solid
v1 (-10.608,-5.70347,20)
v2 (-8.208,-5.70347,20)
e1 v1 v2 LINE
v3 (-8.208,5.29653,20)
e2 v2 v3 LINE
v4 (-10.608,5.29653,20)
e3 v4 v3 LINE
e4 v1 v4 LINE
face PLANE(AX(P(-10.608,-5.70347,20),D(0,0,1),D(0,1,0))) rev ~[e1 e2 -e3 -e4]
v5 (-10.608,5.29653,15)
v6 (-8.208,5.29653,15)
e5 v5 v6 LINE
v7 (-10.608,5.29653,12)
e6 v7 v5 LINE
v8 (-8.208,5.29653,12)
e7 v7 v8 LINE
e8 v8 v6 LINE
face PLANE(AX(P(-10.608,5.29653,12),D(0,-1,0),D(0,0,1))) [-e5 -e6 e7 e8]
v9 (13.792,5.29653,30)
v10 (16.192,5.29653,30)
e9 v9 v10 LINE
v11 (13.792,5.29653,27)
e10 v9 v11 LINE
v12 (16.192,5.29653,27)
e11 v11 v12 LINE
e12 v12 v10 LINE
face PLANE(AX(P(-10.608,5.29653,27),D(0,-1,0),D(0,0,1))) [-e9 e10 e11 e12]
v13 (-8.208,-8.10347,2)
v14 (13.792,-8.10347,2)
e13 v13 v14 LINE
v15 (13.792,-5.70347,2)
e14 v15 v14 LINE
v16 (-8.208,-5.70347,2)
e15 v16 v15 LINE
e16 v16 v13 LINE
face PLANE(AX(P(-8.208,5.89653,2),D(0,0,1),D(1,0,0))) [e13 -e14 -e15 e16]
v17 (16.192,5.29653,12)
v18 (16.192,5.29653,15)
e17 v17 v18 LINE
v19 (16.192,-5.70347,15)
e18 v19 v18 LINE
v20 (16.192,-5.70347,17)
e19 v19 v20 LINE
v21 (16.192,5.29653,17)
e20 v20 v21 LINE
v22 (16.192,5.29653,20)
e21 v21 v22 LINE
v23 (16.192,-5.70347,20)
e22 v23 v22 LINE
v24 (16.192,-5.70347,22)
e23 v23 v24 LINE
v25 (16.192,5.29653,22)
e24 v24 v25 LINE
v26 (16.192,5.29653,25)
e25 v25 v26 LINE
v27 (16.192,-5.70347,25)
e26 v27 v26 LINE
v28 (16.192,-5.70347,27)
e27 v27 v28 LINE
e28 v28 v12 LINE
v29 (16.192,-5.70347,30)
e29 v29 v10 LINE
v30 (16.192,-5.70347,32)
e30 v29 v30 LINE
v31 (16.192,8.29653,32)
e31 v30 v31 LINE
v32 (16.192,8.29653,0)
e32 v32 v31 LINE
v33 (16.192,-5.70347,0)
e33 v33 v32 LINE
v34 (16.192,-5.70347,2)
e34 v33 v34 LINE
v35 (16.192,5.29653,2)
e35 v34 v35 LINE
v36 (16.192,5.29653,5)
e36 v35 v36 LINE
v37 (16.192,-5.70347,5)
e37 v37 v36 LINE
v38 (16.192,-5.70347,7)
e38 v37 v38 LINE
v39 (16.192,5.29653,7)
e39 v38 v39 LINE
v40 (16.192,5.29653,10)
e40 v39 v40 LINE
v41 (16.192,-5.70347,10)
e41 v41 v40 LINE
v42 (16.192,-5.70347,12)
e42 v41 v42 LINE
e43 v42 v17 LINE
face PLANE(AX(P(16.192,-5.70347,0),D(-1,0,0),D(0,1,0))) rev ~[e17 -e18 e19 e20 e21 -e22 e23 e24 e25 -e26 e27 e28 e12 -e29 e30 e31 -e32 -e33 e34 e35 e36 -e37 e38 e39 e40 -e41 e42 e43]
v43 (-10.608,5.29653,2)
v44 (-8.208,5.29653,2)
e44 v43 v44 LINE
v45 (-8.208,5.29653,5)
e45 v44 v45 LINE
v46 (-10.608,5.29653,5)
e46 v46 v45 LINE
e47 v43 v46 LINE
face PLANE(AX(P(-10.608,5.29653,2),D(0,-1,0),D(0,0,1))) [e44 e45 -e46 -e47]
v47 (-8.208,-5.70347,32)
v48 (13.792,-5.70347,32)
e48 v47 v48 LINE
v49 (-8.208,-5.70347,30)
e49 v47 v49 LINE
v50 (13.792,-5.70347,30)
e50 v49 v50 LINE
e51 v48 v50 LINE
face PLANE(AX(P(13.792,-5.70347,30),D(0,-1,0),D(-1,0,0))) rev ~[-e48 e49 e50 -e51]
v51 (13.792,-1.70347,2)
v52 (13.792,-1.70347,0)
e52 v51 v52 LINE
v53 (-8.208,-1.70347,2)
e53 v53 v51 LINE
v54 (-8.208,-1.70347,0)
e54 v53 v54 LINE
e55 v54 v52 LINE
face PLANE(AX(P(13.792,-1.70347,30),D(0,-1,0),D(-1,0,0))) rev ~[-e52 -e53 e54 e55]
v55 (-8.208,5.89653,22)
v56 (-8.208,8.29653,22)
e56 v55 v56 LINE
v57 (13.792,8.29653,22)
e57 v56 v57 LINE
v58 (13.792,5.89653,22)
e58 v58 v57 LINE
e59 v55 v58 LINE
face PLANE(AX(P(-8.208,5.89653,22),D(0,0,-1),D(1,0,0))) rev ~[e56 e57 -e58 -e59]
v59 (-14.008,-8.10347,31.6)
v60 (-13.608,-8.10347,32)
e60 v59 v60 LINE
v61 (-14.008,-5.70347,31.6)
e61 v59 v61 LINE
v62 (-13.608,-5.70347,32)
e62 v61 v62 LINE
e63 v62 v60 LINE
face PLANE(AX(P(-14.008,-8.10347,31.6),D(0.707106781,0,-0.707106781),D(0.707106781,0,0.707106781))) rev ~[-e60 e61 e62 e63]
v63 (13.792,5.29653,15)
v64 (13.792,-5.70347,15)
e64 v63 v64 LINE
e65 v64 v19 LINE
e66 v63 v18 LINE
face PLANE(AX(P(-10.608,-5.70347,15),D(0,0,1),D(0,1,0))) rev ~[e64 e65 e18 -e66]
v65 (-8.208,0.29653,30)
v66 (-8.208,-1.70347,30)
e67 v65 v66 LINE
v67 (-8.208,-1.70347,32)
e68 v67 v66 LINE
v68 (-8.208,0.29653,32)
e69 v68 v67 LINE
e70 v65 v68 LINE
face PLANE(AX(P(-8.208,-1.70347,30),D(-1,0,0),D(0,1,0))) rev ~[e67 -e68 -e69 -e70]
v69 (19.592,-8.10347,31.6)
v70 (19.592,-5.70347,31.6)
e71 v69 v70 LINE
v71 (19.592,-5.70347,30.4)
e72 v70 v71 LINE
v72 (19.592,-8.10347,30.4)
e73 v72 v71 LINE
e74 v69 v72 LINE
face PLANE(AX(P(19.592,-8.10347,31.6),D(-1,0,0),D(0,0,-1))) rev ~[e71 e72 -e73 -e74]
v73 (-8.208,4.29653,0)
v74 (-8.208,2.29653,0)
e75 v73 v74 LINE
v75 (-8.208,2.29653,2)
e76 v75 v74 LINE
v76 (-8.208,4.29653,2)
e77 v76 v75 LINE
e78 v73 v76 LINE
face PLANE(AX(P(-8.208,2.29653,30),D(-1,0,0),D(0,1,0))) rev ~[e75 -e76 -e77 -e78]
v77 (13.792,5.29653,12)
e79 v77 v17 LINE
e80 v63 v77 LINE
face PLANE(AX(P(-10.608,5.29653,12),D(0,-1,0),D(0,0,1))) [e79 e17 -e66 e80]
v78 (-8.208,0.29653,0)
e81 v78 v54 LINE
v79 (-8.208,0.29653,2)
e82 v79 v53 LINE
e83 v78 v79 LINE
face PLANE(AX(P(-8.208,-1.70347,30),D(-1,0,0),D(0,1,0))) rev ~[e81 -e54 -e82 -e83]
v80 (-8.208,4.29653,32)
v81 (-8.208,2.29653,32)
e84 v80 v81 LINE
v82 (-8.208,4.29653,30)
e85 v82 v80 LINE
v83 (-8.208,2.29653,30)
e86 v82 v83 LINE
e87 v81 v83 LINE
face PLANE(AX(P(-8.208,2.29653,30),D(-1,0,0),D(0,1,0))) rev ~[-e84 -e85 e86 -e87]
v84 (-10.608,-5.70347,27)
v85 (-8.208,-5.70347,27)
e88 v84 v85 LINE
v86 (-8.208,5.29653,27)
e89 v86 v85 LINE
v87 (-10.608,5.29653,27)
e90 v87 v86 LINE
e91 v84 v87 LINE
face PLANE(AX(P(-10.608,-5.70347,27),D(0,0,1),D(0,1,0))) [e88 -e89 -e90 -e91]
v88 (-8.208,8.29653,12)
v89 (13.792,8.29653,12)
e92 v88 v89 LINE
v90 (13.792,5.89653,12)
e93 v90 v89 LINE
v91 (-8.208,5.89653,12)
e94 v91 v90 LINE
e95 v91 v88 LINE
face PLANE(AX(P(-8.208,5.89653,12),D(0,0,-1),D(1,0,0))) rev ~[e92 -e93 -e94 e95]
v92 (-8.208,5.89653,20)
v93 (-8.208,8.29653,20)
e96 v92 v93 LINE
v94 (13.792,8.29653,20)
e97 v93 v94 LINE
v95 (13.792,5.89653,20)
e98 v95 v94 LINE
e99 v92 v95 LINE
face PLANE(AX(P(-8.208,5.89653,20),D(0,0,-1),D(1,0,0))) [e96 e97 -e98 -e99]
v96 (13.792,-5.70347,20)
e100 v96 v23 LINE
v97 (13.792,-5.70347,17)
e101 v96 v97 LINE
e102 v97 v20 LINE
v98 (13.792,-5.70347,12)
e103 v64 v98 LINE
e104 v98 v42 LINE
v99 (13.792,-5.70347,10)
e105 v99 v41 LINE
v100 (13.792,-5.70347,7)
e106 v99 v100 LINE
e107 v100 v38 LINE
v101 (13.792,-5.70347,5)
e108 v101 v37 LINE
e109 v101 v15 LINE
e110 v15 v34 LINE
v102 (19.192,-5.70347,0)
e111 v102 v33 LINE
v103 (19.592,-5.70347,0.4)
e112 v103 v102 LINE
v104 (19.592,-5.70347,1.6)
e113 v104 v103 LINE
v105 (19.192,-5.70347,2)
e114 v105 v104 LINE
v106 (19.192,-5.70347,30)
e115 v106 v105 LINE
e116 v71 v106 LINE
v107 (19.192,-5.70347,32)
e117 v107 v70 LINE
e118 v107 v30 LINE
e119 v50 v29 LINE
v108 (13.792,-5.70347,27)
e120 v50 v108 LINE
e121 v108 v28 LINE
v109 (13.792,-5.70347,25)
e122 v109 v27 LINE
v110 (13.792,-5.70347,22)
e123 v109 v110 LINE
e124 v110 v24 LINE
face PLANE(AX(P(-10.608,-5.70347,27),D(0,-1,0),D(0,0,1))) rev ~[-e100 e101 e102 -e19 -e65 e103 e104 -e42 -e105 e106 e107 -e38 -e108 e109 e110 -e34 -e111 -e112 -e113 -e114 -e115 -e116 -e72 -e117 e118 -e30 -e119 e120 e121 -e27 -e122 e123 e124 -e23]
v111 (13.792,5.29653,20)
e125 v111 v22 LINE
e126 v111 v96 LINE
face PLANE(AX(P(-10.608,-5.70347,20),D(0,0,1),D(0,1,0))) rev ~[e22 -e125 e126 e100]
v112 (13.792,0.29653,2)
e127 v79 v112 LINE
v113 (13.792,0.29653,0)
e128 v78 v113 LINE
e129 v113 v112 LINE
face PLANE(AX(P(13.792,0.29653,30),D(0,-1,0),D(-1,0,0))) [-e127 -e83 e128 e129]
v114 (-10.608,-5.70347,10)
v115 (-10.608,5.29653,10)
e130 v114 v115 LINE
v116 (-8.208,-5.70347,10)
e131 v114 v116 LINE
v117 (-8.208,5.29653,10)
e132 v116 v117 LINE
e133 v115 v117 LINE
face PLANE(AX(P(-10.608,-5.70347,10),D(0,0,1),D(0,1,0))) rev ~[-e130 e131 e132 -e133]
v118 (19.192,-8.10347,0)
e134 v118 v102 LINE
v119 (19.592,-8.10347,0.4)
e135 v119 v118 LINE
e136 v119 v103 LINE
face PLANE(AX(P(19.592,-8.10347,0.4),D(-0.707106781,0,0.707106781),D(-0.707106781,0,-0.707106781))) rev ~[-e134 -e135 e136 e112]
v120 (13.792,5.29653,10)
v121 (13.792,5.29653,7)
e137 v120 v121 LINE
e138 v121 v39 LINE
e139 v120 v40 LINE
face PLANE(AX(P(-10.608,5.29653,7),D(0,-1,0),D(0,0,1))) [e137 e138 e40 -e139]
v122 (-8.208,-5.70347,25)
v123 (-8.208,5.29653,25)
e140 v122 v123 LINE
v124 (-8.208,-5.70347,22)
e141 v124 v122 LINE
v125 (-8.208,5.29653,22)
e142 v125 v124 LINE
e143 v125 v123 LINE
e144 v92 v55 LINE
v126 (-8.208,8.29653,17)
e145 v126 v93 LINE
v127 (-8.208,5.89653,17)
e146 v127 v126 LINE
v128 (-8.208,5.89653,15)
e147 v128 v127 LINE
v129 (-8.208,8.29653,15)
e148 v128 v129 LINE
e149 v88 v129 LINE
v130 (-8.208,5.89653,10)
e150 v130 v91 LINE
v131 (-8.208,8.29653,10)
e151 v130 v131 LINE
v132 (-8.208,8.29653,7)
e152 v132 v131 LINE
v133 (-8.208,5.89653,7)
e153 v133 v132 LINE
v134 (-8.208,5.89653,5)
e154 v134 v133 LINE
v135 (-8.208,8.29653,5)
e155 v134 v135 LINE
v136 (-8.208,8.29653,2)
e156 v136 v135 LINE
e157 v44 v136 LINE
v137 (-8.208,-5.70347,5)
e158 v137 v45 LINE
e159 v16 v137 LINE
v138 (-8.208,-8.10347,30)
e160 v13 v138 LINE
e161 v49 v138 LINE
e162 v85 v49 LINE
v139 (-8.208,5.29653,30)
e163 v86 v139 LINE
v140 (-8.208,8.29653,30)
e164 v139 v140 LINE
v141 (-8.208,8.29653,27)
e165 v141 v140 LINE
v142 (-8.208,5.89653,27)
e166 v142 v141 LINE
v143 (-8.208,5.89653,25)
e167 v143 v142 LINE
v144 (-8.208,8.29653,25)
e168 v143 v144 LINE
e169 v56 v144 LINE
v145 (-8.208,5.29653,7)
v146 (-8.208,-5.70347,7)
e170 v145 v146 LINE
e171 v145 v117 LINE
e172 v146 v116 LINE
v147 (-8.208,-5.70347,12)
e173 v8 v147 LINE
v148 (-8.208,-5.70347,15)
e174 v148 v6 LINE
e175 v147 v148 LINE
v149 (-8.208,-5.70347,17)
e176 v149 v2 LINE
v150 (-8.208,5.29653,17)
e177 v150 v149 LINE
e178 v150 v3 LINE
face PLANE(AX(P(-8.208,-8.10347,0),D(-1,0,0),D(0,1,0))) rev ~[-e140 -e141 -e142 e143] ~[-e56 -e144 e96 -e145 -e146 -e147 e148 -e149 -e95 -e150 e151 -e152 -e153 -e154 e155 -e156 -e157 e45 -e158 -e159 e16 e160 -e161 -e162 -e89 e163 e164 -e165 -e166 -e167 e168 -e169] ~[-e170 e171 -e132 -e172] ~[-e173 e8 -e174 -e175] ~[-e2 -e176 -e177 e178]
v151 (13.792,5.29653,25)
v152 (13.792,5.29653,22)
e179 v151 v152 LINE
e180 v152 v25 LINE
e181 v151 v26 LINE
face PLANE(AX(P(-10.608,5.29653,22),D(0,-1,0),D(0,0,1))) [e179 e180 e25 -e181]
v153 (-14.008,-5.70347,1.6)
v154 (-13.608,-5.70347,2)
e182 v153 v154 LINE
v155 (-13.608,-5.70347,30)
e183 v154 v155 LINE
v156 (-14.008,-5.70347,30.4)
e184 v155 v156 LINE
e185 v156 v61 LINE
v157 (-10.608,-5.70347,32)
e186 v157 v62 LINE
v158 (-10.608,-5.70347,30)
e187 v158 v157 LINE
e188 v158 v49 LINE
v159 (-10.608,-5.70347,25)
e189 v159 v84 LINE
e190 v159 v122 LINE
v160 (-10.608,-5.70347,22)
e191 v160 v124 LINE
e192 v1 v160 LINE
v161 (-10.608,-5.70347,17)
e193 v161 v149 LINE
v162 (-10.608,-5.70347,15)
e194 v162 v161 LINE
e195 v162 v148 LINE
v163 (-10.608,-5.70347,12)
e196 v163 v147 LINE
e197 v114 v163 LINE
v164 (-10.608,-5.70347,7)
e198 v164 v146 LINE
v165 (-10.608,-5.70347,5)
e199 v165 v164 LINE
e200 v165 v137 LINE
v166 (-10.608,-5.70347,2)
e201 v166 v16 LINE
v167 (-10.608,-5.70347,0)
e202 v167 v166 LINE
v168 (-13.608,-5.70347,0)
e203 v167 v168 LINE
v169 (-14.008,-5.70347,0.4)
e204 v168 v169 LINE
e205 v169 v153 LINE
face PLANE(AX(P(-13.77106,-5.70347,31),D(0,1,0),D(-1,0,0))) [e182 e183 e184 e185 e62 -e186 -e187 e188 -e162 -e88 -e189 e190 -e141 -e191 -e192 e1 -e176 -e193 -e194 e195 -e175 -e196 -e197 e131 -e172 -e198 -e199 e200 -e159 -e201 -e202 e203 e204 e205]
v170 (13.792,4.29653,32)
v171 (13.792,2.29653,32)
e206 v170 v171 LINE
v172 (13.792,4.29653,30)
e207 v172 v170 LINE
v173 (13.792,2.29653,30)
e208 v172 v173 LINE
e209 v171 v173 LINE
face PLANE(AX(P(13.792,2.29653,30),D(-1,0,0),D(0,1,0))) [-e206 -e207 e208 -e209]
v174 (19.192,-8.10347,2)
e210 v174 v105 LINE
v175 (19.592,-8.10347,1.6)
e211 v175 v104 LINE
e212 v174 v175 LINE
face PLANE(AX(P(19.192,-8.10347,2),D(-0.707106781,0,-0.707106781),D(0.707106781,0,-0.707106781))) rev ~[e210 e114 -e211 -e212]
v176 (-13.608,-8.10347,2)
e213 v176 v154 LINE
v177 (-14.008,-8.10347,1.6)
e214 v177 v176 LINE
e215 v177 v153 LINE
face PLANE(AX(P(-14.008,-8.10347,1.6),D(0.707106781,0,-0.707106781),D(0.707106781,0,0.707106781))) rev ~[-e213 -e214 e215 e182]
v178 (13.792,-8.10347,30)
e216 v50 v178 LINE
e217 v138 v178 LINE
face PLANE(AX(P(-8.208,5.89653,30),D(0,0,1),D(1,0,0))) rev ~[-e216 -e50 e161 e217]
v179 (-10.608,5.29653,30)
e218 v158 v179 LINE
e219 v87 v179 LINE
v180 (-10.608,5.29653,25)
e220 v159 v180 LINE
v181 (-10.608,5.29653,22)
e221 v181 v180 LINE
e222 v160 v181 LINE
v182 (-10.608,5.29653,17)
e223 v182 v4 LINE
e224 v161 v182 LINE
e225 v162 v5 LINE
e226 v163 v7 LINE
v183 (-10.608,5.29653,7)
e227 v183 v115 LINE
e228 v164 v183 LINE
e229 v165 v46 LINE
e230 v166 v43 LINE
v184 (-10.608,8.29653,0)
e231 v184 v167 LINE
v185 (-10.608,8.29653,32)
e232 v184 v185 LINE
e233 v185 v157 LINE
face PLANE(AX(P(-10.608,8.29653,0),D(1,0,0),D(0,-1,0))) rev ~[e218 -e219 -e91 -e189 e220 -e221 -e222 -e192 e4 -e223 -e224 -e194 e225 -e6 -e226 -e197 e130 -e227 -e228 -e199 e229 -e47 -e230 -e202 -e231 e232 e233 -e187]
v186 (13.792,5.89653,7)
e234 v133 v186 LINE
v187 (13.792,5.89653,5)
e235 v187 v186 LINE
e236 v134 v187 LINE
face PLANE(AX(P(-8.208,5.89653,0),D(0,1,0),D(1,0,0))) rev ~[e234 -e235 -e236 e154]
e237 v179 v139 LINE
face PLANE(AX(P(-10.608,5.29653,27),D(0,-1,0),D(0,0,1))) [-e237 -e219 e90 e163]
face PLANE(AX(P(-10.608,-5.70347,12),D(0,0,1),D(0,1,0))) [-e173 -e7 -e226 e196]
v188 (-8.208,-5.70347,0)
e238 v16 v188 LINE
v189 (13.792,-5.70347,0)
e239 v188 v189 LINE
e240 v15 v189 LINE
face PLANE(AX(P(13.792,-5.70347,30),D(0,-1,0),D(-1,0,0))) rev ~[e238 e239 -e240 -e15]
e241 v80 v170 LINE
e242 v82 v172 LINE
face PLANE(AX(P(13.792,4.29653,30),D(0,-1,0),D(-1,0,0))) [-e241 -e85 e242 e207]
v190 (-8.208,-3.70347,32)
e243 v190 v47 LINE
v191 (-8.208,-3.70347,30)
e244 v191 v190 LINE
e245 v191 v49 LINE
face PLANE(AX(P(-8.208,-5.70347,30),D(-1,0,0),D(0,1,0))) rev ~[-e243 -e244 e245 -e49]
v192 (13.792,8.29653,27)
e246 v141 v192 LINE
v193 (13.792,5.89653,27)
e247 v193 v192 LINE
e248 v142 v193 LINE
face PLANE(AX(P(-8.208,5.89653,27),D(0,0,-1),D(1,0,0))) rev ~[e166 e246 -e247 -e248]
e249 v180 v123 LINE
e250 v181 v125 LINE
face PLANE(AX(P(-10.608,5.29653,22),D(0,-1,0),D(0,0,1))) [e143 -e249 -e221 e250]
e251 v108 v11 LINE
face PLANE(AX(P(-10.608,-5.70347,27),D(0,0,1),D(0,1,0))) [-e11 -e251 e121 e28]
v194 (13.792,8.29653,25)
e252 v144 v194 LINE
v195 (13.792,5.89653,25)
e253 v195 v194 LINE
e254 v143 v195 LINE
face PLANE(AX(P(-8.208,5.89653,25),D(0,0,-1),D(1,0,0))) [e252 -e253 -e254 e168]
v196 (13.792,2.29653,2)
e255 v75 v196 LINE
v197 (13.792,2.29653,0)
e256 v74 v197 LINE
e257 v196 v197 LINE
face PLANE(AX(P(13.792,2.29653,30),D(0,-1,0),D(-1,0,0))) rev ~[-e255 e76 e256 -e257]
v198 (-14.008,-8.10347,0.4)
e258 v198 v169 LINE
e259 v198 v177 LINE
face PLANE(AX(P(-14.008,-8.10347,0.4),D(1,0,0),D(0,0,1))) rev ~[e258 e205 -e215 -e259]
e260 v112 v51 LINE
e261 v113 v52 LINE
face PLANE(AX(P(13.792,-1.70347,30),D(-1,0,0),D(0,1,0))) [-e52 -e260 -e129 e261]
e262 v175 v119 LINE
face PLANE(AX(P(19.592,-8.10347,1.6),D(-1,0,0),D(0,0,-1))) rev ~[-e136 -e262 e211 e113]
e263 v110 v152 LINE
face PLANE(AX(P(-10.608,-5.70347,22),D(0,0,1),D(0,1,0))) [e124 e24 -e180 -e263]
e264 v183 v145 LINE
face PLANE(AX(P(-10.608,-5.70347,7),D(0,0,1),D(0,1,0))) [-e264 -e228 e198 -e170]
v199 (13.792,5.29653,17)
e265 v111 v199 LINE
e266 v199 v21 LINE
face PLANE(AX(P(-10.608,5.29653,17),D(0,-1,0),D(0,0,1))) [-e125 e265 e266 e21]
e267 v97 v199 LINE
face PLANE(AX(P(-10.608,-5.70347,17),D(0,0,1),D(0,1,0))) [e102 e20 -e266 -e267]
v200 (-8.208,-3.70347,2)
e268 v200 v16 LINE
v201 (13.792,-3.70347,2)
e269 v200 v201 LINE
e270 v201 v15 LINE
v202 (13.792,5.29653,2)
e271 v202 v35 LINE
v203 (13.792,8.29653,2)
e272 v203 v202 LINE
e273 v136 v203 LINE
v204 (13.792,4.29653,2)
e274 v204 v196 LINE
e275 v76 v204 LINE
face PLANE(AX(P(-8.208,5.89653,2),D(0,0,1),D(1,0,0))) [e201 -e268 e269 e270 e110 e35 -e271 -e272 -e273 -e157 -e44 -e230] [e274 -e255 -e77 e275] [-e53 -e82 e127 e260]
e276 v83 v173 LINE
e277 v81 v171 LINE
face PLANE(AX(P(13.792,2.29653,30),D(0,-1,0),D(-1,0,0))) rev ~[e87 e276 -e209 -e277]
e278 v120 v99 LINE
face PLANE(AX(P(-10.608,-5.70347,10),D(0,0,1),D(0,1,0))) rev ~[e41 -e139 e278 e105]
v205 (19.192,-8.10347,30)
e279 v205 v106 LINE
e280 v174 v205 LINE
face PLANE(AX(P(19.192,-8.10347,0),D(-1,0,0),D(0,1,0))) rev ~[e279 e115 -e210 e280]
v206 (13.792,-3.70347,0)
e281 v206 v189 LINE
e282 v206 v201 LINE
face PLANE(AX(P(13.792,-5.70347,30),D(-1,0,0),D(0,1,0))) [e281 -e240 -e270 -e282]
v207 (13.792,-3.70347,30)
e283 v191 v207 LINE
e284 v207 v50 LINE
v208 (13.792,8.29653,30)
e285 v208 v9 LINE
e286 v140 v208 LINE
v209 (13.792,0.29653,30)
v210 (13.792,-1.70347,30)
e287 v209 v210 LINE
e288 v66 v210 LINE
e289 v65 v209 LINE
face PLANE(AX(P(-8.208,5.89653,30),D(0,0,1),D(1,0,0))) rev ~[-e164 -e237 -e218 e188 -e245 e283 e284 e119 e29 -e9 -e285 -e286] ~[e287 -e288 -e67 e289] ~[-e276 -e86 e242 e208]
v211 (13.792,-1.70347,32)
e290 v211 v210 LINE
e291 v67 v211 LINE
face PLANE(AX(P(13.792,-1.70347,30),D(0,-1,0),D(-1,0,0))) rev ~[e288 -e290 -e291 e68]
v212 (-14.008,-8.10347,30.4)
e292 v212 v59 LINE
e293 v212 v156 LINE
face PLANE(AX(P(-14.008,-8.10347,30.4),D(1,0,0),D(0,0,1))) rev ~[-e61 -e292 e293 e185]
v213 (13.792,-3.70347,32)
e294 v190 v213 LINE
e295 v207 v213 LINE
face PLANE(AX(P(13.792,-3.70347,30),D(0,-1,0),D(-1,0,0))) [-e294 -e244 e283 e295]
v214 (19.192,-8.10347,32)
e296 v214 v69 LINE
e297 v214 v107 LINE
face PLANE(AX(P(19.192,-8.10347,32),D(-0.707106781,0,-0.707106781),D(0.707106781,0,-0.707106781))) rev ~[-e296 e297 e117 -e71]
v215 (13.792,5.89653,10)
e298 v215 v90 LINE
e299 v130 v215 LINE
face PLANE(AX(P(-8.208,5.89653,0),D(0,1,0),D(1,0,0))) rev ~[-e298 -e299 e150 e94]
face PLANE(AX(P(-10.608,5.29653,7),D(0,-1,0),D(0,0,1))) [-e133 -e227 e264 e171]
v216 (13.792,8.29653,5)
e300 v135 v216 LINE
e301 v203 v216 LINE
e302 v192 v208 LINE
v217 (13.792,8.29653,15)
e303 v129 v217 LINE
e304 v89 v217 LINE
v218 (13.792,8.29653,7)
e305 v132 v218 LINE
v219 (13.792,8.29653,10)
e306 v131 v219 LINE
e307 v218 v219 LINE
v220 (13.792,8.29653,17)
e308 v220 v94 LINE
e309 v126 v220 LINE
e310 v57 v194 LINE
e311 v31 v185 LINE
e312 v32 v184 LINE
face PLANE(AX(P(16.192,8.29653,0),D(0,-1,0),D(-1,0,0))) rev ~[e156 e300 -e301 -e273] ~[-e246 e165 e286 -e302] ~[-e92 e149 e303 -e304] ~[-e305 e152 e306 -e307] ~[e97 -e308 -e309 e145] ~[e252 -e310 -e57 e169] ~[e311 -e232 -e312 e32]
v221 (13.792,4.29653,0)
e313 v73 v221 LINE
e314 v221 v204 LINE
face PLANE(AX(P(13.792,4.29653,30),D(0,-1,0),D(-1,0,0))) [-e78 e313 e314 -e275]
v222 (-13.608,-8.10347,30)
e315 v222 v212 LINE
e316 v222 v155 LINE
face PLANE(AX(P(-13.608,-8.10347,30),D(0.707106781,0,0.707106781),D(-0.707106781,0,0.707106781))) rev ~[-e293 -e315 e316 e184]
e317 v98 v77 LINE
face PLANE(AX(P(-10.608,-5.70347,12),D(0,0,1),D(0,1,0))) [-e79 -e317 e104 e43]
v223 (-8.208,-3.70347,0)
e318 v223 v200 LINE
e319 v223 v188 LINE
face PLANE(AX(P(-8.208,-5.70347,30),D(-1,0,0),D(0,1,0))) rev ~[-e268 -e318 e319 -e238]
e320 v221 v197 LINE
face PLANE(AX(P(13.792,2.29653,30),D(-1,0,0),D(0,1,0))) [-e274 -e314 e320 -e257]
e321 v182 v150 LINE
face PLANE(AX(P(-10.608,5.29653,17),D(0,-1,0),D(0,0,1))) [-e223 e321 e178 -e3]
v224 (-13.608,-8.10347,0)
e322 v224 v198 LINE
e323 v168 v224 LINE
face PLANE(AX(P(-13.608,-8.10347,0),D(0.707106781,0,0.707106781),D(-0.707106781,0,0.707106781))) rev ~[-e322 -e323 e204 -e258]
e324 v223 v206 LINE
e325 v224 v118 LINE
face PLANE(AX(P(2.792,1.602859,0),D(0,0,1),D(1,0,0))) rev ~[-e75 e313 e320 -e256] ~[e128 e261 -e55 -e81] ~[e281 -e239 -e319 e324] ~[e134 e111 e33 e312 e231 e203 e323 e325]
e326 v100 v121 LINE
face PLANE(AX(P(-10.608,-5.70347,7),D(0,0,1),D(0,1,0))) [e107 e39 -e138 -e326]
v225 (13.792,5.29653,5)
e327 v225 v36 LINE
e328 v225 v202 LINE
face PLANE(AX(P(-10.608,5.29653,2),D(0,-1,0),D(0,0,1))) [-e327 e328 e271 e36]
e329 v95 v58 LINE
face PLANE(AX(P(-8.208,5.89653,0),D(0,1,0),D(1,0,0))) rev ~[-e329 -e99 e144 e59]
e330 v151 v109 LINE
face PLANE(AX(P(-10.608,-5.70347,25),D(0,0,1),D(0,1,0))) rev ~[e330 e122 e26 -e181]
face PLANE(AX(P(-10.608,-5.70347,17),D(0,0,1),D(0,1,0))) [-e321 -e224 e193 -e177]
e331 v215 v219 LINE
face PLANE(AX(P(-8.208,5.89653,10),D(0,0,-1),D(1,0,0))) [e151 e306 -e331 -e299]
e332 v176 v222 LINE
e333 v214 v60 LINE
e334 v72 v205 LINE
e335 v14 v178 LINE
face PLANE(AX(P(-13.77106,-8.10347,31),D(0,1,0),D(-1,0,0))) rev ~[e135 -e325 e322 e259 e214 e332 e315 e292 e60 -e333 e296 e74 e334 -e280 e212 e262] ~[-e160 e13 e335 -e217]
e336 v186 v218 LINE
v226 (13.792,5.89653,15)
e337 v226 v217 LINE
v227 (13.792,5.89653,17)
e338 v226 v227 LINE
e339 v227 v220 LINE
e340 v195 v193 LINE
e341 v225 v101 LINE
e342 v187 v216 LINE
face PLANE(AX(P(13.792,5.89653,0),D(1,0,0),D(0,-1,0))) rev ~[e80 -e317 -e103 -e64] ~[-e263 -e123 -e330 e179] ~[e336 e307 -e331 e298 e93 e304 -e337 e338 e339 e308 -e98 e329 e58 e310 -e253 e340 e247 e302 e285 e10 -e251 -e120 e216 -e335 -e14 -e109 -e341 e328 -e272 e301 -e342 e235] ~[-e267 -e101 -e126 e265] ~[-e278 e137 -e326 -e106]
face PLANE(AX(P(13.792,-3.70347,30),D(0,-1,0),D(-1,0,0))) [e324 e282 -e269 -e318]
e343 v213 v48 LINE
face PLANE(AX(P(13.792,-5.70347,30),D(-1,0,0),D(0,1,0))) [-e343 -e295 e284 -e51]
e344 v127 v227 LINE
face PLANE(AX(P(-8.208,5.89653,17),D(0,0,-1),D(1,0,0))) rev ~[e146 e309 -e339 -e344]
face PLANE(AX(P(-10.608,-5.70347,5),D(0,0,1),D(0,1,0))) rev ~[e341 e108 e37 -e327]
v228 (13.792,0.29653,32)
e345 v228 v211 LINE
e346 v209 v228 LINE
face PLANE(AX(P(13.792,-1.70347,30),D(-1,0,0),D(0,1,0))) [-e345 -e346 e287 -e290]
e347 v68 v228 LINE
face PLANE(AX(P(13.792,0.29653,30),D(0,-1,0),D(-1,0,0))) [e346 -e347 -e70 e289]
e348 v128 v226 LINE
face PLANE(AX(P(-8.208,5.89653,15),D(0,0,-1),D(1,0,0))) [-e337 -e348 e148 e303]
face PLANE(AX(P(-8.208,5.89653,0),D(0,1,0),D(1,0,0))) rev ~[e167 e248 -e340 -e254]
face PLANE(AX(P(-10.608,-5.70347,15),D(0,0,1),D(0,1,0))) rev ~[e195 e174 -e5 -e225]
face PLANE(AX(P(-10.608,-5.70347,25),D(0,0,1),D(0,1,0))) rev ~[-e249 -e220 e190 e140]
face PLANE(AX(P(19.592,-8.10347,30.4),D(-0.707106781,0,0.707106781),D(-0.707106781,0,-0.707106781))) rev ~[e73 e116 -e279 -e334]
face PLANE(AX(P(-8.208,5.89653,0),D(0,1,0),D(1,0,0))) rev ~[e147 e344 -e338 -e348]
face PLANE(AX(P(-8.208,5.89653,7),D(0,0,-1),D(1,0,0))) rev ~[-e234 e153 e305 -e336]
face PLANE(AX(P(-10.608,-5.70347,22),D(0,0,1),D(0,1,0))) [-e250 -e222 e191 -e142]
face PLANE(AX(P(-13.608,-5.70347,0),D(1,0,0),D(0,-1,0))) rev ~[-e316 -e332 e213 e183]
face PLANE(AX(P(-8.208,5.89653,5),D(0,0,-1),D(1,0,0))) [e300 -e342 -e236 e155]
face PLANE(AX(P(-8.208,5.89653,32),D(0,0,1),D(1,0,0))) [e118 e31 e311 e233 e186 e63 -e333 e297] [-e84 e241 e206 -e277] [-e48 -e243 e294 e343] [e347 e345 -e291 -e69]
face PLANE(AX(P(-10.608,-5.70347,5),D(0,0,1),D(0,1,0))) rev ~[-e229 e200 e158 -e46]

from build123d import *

# Parameters (mm, degrees)
BOSS_EXTRUDE1_DEPTH = 32
SKETCH2_W           = 22
SKETCH2_H           = 2
BOSS_EXTRUDE2_DEPTH = 14
SKETCH4_W           = 3
SKETCH4_H           = 11
CUT_EXTRUDE2_DEPTH  = 45.506992773
LPATTERN1_COUNT     = 6
LPATTERN1_PITCH     = 5
SKETCH5_W           = 22
SKETCH5_H           = 3
CUT_EXTRUDE3_DEPTH  = 40.853893963
LPATTERN2_COUNT     = 6
LPATTERN2_PITCH     = 5
SKETCH6_W           = 22
SKETCH6_H           = 2
CUT_EXTRUDE4_DEPTH  = 37.567270471
LPATTERN3_COUNT     = 3
LPATTERN3_PITCH     = 4
BOSS_EXTRUDE3_DEPTH = 2.4


with BuildPart() as part:
    # Sketch1 → Boss-Extrude1 (new body)
    with BuildSketch(Plane.XY):
        Polygon((-13.608, -5.703470261), (-13.608, -8.103470261), (-8.208, -8.103470261), (-8.208, 5.896529739), (13.792, 5.896529739), (13.792, -8.103470261), (19.192, -8.103470261), (19.192, -5.703470261), (16.192, -5.703470261), (16.192, 8.296529739), (-10.608, 8.296529739), (-10.608, -5.703470261), align=None)
    extrude(amount=BOSS_EXTRUDE1_DEPTH)

    # Sketch2 → Boss-Extrude2 (add)
    with BuildSketch(Plane.XZ.offset(-5.896529739)):
        with Locations((2.792, 31)):
            Rectangle(SKETCH2_W, SKETCH2_H)
        with Locations((2.792, 1)):
            Rectangle(SKETCH2_W, SKETCH2_H)
    extrude(amount=BOSS_EXTRUDE2_DEPTH)

    # Sketch4 → Cut-Extrude2 (cut, through all)
    with BuildSketch(Plane.ZY.offset(10.608)):
        with Locations((28.5, -0.203470261)):
            Rectangle(SKETCH4_W, SKETCH4_H)
    cut_extrude2 = extrude(amount=-CUT_EXTRUDE2_DEPTH, mode=Mode.SUBTRACT)

    # LPattern1: Cut-Extrude2 ×6
    with Locations(*[(0, 0, -i * LPATTERN1_PITCH) for i in range(1, LPATTERN1_COUNT)]):
        add(cut_extrude2, mode=Mode.SUBTRACT)

    # Sketch5 → Cut-Extrude3 (cut, through all)
    with BuildSketch(Plane.XZ.offset(-5.896529739)):
        with Locations((2.792, 28.5)):
            Rectangle(SKETCH5_W, SKETCH5_H)
    cut_extrude3 = extrude(amount=-CUT_EXTRUDE3_DEPTH, mode=Mode.SUBTRACT)

    # LPattern2: Cut-Extrude3 ×6
    with Locations(*[(0, 0, -i * LPATTERN2_PITCH) for i in range(1, LPATTERN2_COUNT)]):
        add(cut_extrude3, mode=Mode.SUBTRACT)

    # Sketch6 → Cut-Extrude4 (cut, symmetric)
    with BuildSketch(Plane(origin=(0, 0, 30), x_dir=(-1, 0, 0), z_dir=(0, 0, -1))):
        with Locations((-2.792, -4.703470261)):
            Rectangle(SKETCH6_W, SKETCH6_H)
    cut_extrude4 = extrude(amount=CUT_EXTRUDE4_DEPTH, both=True, mode=Mode.SUBTRACT)

    # LPattern3: Cut-Extrude4 ×3
    with Locations(*[(0, i * LPATTERN3_PITCH, 0) for i in range(1, LPATTERN3_COUNT)]):
        add(cut_extrude4, mode=Mode.SUBTRACT)

    # Sketch8 → Boss-Extrude3 (add)
    with BuildSketch(Plane.XZ.offset(8.103470261)):
        Polygon((-13.608, 30), (-14.008, 30.4), (-14.008, 31.6), (-13.608, 32), align=None)
        Polygon((-13.608, 2), (-13.608, 0), (-14.008, 0.4), (-14.008, 1.6), align=None)
        Polygon((19.192, 2), (19.592, 1.6), (19.592, 0.4), (19.192, 0), align=None)
        Polygon((19.192, 30), (19.192, 32), (19.592, 31.6), (19.592, 30.4), align=None)
    extrude(amount=-BOSS_EXTRUDE3_DEPTH)


solid = part.part
